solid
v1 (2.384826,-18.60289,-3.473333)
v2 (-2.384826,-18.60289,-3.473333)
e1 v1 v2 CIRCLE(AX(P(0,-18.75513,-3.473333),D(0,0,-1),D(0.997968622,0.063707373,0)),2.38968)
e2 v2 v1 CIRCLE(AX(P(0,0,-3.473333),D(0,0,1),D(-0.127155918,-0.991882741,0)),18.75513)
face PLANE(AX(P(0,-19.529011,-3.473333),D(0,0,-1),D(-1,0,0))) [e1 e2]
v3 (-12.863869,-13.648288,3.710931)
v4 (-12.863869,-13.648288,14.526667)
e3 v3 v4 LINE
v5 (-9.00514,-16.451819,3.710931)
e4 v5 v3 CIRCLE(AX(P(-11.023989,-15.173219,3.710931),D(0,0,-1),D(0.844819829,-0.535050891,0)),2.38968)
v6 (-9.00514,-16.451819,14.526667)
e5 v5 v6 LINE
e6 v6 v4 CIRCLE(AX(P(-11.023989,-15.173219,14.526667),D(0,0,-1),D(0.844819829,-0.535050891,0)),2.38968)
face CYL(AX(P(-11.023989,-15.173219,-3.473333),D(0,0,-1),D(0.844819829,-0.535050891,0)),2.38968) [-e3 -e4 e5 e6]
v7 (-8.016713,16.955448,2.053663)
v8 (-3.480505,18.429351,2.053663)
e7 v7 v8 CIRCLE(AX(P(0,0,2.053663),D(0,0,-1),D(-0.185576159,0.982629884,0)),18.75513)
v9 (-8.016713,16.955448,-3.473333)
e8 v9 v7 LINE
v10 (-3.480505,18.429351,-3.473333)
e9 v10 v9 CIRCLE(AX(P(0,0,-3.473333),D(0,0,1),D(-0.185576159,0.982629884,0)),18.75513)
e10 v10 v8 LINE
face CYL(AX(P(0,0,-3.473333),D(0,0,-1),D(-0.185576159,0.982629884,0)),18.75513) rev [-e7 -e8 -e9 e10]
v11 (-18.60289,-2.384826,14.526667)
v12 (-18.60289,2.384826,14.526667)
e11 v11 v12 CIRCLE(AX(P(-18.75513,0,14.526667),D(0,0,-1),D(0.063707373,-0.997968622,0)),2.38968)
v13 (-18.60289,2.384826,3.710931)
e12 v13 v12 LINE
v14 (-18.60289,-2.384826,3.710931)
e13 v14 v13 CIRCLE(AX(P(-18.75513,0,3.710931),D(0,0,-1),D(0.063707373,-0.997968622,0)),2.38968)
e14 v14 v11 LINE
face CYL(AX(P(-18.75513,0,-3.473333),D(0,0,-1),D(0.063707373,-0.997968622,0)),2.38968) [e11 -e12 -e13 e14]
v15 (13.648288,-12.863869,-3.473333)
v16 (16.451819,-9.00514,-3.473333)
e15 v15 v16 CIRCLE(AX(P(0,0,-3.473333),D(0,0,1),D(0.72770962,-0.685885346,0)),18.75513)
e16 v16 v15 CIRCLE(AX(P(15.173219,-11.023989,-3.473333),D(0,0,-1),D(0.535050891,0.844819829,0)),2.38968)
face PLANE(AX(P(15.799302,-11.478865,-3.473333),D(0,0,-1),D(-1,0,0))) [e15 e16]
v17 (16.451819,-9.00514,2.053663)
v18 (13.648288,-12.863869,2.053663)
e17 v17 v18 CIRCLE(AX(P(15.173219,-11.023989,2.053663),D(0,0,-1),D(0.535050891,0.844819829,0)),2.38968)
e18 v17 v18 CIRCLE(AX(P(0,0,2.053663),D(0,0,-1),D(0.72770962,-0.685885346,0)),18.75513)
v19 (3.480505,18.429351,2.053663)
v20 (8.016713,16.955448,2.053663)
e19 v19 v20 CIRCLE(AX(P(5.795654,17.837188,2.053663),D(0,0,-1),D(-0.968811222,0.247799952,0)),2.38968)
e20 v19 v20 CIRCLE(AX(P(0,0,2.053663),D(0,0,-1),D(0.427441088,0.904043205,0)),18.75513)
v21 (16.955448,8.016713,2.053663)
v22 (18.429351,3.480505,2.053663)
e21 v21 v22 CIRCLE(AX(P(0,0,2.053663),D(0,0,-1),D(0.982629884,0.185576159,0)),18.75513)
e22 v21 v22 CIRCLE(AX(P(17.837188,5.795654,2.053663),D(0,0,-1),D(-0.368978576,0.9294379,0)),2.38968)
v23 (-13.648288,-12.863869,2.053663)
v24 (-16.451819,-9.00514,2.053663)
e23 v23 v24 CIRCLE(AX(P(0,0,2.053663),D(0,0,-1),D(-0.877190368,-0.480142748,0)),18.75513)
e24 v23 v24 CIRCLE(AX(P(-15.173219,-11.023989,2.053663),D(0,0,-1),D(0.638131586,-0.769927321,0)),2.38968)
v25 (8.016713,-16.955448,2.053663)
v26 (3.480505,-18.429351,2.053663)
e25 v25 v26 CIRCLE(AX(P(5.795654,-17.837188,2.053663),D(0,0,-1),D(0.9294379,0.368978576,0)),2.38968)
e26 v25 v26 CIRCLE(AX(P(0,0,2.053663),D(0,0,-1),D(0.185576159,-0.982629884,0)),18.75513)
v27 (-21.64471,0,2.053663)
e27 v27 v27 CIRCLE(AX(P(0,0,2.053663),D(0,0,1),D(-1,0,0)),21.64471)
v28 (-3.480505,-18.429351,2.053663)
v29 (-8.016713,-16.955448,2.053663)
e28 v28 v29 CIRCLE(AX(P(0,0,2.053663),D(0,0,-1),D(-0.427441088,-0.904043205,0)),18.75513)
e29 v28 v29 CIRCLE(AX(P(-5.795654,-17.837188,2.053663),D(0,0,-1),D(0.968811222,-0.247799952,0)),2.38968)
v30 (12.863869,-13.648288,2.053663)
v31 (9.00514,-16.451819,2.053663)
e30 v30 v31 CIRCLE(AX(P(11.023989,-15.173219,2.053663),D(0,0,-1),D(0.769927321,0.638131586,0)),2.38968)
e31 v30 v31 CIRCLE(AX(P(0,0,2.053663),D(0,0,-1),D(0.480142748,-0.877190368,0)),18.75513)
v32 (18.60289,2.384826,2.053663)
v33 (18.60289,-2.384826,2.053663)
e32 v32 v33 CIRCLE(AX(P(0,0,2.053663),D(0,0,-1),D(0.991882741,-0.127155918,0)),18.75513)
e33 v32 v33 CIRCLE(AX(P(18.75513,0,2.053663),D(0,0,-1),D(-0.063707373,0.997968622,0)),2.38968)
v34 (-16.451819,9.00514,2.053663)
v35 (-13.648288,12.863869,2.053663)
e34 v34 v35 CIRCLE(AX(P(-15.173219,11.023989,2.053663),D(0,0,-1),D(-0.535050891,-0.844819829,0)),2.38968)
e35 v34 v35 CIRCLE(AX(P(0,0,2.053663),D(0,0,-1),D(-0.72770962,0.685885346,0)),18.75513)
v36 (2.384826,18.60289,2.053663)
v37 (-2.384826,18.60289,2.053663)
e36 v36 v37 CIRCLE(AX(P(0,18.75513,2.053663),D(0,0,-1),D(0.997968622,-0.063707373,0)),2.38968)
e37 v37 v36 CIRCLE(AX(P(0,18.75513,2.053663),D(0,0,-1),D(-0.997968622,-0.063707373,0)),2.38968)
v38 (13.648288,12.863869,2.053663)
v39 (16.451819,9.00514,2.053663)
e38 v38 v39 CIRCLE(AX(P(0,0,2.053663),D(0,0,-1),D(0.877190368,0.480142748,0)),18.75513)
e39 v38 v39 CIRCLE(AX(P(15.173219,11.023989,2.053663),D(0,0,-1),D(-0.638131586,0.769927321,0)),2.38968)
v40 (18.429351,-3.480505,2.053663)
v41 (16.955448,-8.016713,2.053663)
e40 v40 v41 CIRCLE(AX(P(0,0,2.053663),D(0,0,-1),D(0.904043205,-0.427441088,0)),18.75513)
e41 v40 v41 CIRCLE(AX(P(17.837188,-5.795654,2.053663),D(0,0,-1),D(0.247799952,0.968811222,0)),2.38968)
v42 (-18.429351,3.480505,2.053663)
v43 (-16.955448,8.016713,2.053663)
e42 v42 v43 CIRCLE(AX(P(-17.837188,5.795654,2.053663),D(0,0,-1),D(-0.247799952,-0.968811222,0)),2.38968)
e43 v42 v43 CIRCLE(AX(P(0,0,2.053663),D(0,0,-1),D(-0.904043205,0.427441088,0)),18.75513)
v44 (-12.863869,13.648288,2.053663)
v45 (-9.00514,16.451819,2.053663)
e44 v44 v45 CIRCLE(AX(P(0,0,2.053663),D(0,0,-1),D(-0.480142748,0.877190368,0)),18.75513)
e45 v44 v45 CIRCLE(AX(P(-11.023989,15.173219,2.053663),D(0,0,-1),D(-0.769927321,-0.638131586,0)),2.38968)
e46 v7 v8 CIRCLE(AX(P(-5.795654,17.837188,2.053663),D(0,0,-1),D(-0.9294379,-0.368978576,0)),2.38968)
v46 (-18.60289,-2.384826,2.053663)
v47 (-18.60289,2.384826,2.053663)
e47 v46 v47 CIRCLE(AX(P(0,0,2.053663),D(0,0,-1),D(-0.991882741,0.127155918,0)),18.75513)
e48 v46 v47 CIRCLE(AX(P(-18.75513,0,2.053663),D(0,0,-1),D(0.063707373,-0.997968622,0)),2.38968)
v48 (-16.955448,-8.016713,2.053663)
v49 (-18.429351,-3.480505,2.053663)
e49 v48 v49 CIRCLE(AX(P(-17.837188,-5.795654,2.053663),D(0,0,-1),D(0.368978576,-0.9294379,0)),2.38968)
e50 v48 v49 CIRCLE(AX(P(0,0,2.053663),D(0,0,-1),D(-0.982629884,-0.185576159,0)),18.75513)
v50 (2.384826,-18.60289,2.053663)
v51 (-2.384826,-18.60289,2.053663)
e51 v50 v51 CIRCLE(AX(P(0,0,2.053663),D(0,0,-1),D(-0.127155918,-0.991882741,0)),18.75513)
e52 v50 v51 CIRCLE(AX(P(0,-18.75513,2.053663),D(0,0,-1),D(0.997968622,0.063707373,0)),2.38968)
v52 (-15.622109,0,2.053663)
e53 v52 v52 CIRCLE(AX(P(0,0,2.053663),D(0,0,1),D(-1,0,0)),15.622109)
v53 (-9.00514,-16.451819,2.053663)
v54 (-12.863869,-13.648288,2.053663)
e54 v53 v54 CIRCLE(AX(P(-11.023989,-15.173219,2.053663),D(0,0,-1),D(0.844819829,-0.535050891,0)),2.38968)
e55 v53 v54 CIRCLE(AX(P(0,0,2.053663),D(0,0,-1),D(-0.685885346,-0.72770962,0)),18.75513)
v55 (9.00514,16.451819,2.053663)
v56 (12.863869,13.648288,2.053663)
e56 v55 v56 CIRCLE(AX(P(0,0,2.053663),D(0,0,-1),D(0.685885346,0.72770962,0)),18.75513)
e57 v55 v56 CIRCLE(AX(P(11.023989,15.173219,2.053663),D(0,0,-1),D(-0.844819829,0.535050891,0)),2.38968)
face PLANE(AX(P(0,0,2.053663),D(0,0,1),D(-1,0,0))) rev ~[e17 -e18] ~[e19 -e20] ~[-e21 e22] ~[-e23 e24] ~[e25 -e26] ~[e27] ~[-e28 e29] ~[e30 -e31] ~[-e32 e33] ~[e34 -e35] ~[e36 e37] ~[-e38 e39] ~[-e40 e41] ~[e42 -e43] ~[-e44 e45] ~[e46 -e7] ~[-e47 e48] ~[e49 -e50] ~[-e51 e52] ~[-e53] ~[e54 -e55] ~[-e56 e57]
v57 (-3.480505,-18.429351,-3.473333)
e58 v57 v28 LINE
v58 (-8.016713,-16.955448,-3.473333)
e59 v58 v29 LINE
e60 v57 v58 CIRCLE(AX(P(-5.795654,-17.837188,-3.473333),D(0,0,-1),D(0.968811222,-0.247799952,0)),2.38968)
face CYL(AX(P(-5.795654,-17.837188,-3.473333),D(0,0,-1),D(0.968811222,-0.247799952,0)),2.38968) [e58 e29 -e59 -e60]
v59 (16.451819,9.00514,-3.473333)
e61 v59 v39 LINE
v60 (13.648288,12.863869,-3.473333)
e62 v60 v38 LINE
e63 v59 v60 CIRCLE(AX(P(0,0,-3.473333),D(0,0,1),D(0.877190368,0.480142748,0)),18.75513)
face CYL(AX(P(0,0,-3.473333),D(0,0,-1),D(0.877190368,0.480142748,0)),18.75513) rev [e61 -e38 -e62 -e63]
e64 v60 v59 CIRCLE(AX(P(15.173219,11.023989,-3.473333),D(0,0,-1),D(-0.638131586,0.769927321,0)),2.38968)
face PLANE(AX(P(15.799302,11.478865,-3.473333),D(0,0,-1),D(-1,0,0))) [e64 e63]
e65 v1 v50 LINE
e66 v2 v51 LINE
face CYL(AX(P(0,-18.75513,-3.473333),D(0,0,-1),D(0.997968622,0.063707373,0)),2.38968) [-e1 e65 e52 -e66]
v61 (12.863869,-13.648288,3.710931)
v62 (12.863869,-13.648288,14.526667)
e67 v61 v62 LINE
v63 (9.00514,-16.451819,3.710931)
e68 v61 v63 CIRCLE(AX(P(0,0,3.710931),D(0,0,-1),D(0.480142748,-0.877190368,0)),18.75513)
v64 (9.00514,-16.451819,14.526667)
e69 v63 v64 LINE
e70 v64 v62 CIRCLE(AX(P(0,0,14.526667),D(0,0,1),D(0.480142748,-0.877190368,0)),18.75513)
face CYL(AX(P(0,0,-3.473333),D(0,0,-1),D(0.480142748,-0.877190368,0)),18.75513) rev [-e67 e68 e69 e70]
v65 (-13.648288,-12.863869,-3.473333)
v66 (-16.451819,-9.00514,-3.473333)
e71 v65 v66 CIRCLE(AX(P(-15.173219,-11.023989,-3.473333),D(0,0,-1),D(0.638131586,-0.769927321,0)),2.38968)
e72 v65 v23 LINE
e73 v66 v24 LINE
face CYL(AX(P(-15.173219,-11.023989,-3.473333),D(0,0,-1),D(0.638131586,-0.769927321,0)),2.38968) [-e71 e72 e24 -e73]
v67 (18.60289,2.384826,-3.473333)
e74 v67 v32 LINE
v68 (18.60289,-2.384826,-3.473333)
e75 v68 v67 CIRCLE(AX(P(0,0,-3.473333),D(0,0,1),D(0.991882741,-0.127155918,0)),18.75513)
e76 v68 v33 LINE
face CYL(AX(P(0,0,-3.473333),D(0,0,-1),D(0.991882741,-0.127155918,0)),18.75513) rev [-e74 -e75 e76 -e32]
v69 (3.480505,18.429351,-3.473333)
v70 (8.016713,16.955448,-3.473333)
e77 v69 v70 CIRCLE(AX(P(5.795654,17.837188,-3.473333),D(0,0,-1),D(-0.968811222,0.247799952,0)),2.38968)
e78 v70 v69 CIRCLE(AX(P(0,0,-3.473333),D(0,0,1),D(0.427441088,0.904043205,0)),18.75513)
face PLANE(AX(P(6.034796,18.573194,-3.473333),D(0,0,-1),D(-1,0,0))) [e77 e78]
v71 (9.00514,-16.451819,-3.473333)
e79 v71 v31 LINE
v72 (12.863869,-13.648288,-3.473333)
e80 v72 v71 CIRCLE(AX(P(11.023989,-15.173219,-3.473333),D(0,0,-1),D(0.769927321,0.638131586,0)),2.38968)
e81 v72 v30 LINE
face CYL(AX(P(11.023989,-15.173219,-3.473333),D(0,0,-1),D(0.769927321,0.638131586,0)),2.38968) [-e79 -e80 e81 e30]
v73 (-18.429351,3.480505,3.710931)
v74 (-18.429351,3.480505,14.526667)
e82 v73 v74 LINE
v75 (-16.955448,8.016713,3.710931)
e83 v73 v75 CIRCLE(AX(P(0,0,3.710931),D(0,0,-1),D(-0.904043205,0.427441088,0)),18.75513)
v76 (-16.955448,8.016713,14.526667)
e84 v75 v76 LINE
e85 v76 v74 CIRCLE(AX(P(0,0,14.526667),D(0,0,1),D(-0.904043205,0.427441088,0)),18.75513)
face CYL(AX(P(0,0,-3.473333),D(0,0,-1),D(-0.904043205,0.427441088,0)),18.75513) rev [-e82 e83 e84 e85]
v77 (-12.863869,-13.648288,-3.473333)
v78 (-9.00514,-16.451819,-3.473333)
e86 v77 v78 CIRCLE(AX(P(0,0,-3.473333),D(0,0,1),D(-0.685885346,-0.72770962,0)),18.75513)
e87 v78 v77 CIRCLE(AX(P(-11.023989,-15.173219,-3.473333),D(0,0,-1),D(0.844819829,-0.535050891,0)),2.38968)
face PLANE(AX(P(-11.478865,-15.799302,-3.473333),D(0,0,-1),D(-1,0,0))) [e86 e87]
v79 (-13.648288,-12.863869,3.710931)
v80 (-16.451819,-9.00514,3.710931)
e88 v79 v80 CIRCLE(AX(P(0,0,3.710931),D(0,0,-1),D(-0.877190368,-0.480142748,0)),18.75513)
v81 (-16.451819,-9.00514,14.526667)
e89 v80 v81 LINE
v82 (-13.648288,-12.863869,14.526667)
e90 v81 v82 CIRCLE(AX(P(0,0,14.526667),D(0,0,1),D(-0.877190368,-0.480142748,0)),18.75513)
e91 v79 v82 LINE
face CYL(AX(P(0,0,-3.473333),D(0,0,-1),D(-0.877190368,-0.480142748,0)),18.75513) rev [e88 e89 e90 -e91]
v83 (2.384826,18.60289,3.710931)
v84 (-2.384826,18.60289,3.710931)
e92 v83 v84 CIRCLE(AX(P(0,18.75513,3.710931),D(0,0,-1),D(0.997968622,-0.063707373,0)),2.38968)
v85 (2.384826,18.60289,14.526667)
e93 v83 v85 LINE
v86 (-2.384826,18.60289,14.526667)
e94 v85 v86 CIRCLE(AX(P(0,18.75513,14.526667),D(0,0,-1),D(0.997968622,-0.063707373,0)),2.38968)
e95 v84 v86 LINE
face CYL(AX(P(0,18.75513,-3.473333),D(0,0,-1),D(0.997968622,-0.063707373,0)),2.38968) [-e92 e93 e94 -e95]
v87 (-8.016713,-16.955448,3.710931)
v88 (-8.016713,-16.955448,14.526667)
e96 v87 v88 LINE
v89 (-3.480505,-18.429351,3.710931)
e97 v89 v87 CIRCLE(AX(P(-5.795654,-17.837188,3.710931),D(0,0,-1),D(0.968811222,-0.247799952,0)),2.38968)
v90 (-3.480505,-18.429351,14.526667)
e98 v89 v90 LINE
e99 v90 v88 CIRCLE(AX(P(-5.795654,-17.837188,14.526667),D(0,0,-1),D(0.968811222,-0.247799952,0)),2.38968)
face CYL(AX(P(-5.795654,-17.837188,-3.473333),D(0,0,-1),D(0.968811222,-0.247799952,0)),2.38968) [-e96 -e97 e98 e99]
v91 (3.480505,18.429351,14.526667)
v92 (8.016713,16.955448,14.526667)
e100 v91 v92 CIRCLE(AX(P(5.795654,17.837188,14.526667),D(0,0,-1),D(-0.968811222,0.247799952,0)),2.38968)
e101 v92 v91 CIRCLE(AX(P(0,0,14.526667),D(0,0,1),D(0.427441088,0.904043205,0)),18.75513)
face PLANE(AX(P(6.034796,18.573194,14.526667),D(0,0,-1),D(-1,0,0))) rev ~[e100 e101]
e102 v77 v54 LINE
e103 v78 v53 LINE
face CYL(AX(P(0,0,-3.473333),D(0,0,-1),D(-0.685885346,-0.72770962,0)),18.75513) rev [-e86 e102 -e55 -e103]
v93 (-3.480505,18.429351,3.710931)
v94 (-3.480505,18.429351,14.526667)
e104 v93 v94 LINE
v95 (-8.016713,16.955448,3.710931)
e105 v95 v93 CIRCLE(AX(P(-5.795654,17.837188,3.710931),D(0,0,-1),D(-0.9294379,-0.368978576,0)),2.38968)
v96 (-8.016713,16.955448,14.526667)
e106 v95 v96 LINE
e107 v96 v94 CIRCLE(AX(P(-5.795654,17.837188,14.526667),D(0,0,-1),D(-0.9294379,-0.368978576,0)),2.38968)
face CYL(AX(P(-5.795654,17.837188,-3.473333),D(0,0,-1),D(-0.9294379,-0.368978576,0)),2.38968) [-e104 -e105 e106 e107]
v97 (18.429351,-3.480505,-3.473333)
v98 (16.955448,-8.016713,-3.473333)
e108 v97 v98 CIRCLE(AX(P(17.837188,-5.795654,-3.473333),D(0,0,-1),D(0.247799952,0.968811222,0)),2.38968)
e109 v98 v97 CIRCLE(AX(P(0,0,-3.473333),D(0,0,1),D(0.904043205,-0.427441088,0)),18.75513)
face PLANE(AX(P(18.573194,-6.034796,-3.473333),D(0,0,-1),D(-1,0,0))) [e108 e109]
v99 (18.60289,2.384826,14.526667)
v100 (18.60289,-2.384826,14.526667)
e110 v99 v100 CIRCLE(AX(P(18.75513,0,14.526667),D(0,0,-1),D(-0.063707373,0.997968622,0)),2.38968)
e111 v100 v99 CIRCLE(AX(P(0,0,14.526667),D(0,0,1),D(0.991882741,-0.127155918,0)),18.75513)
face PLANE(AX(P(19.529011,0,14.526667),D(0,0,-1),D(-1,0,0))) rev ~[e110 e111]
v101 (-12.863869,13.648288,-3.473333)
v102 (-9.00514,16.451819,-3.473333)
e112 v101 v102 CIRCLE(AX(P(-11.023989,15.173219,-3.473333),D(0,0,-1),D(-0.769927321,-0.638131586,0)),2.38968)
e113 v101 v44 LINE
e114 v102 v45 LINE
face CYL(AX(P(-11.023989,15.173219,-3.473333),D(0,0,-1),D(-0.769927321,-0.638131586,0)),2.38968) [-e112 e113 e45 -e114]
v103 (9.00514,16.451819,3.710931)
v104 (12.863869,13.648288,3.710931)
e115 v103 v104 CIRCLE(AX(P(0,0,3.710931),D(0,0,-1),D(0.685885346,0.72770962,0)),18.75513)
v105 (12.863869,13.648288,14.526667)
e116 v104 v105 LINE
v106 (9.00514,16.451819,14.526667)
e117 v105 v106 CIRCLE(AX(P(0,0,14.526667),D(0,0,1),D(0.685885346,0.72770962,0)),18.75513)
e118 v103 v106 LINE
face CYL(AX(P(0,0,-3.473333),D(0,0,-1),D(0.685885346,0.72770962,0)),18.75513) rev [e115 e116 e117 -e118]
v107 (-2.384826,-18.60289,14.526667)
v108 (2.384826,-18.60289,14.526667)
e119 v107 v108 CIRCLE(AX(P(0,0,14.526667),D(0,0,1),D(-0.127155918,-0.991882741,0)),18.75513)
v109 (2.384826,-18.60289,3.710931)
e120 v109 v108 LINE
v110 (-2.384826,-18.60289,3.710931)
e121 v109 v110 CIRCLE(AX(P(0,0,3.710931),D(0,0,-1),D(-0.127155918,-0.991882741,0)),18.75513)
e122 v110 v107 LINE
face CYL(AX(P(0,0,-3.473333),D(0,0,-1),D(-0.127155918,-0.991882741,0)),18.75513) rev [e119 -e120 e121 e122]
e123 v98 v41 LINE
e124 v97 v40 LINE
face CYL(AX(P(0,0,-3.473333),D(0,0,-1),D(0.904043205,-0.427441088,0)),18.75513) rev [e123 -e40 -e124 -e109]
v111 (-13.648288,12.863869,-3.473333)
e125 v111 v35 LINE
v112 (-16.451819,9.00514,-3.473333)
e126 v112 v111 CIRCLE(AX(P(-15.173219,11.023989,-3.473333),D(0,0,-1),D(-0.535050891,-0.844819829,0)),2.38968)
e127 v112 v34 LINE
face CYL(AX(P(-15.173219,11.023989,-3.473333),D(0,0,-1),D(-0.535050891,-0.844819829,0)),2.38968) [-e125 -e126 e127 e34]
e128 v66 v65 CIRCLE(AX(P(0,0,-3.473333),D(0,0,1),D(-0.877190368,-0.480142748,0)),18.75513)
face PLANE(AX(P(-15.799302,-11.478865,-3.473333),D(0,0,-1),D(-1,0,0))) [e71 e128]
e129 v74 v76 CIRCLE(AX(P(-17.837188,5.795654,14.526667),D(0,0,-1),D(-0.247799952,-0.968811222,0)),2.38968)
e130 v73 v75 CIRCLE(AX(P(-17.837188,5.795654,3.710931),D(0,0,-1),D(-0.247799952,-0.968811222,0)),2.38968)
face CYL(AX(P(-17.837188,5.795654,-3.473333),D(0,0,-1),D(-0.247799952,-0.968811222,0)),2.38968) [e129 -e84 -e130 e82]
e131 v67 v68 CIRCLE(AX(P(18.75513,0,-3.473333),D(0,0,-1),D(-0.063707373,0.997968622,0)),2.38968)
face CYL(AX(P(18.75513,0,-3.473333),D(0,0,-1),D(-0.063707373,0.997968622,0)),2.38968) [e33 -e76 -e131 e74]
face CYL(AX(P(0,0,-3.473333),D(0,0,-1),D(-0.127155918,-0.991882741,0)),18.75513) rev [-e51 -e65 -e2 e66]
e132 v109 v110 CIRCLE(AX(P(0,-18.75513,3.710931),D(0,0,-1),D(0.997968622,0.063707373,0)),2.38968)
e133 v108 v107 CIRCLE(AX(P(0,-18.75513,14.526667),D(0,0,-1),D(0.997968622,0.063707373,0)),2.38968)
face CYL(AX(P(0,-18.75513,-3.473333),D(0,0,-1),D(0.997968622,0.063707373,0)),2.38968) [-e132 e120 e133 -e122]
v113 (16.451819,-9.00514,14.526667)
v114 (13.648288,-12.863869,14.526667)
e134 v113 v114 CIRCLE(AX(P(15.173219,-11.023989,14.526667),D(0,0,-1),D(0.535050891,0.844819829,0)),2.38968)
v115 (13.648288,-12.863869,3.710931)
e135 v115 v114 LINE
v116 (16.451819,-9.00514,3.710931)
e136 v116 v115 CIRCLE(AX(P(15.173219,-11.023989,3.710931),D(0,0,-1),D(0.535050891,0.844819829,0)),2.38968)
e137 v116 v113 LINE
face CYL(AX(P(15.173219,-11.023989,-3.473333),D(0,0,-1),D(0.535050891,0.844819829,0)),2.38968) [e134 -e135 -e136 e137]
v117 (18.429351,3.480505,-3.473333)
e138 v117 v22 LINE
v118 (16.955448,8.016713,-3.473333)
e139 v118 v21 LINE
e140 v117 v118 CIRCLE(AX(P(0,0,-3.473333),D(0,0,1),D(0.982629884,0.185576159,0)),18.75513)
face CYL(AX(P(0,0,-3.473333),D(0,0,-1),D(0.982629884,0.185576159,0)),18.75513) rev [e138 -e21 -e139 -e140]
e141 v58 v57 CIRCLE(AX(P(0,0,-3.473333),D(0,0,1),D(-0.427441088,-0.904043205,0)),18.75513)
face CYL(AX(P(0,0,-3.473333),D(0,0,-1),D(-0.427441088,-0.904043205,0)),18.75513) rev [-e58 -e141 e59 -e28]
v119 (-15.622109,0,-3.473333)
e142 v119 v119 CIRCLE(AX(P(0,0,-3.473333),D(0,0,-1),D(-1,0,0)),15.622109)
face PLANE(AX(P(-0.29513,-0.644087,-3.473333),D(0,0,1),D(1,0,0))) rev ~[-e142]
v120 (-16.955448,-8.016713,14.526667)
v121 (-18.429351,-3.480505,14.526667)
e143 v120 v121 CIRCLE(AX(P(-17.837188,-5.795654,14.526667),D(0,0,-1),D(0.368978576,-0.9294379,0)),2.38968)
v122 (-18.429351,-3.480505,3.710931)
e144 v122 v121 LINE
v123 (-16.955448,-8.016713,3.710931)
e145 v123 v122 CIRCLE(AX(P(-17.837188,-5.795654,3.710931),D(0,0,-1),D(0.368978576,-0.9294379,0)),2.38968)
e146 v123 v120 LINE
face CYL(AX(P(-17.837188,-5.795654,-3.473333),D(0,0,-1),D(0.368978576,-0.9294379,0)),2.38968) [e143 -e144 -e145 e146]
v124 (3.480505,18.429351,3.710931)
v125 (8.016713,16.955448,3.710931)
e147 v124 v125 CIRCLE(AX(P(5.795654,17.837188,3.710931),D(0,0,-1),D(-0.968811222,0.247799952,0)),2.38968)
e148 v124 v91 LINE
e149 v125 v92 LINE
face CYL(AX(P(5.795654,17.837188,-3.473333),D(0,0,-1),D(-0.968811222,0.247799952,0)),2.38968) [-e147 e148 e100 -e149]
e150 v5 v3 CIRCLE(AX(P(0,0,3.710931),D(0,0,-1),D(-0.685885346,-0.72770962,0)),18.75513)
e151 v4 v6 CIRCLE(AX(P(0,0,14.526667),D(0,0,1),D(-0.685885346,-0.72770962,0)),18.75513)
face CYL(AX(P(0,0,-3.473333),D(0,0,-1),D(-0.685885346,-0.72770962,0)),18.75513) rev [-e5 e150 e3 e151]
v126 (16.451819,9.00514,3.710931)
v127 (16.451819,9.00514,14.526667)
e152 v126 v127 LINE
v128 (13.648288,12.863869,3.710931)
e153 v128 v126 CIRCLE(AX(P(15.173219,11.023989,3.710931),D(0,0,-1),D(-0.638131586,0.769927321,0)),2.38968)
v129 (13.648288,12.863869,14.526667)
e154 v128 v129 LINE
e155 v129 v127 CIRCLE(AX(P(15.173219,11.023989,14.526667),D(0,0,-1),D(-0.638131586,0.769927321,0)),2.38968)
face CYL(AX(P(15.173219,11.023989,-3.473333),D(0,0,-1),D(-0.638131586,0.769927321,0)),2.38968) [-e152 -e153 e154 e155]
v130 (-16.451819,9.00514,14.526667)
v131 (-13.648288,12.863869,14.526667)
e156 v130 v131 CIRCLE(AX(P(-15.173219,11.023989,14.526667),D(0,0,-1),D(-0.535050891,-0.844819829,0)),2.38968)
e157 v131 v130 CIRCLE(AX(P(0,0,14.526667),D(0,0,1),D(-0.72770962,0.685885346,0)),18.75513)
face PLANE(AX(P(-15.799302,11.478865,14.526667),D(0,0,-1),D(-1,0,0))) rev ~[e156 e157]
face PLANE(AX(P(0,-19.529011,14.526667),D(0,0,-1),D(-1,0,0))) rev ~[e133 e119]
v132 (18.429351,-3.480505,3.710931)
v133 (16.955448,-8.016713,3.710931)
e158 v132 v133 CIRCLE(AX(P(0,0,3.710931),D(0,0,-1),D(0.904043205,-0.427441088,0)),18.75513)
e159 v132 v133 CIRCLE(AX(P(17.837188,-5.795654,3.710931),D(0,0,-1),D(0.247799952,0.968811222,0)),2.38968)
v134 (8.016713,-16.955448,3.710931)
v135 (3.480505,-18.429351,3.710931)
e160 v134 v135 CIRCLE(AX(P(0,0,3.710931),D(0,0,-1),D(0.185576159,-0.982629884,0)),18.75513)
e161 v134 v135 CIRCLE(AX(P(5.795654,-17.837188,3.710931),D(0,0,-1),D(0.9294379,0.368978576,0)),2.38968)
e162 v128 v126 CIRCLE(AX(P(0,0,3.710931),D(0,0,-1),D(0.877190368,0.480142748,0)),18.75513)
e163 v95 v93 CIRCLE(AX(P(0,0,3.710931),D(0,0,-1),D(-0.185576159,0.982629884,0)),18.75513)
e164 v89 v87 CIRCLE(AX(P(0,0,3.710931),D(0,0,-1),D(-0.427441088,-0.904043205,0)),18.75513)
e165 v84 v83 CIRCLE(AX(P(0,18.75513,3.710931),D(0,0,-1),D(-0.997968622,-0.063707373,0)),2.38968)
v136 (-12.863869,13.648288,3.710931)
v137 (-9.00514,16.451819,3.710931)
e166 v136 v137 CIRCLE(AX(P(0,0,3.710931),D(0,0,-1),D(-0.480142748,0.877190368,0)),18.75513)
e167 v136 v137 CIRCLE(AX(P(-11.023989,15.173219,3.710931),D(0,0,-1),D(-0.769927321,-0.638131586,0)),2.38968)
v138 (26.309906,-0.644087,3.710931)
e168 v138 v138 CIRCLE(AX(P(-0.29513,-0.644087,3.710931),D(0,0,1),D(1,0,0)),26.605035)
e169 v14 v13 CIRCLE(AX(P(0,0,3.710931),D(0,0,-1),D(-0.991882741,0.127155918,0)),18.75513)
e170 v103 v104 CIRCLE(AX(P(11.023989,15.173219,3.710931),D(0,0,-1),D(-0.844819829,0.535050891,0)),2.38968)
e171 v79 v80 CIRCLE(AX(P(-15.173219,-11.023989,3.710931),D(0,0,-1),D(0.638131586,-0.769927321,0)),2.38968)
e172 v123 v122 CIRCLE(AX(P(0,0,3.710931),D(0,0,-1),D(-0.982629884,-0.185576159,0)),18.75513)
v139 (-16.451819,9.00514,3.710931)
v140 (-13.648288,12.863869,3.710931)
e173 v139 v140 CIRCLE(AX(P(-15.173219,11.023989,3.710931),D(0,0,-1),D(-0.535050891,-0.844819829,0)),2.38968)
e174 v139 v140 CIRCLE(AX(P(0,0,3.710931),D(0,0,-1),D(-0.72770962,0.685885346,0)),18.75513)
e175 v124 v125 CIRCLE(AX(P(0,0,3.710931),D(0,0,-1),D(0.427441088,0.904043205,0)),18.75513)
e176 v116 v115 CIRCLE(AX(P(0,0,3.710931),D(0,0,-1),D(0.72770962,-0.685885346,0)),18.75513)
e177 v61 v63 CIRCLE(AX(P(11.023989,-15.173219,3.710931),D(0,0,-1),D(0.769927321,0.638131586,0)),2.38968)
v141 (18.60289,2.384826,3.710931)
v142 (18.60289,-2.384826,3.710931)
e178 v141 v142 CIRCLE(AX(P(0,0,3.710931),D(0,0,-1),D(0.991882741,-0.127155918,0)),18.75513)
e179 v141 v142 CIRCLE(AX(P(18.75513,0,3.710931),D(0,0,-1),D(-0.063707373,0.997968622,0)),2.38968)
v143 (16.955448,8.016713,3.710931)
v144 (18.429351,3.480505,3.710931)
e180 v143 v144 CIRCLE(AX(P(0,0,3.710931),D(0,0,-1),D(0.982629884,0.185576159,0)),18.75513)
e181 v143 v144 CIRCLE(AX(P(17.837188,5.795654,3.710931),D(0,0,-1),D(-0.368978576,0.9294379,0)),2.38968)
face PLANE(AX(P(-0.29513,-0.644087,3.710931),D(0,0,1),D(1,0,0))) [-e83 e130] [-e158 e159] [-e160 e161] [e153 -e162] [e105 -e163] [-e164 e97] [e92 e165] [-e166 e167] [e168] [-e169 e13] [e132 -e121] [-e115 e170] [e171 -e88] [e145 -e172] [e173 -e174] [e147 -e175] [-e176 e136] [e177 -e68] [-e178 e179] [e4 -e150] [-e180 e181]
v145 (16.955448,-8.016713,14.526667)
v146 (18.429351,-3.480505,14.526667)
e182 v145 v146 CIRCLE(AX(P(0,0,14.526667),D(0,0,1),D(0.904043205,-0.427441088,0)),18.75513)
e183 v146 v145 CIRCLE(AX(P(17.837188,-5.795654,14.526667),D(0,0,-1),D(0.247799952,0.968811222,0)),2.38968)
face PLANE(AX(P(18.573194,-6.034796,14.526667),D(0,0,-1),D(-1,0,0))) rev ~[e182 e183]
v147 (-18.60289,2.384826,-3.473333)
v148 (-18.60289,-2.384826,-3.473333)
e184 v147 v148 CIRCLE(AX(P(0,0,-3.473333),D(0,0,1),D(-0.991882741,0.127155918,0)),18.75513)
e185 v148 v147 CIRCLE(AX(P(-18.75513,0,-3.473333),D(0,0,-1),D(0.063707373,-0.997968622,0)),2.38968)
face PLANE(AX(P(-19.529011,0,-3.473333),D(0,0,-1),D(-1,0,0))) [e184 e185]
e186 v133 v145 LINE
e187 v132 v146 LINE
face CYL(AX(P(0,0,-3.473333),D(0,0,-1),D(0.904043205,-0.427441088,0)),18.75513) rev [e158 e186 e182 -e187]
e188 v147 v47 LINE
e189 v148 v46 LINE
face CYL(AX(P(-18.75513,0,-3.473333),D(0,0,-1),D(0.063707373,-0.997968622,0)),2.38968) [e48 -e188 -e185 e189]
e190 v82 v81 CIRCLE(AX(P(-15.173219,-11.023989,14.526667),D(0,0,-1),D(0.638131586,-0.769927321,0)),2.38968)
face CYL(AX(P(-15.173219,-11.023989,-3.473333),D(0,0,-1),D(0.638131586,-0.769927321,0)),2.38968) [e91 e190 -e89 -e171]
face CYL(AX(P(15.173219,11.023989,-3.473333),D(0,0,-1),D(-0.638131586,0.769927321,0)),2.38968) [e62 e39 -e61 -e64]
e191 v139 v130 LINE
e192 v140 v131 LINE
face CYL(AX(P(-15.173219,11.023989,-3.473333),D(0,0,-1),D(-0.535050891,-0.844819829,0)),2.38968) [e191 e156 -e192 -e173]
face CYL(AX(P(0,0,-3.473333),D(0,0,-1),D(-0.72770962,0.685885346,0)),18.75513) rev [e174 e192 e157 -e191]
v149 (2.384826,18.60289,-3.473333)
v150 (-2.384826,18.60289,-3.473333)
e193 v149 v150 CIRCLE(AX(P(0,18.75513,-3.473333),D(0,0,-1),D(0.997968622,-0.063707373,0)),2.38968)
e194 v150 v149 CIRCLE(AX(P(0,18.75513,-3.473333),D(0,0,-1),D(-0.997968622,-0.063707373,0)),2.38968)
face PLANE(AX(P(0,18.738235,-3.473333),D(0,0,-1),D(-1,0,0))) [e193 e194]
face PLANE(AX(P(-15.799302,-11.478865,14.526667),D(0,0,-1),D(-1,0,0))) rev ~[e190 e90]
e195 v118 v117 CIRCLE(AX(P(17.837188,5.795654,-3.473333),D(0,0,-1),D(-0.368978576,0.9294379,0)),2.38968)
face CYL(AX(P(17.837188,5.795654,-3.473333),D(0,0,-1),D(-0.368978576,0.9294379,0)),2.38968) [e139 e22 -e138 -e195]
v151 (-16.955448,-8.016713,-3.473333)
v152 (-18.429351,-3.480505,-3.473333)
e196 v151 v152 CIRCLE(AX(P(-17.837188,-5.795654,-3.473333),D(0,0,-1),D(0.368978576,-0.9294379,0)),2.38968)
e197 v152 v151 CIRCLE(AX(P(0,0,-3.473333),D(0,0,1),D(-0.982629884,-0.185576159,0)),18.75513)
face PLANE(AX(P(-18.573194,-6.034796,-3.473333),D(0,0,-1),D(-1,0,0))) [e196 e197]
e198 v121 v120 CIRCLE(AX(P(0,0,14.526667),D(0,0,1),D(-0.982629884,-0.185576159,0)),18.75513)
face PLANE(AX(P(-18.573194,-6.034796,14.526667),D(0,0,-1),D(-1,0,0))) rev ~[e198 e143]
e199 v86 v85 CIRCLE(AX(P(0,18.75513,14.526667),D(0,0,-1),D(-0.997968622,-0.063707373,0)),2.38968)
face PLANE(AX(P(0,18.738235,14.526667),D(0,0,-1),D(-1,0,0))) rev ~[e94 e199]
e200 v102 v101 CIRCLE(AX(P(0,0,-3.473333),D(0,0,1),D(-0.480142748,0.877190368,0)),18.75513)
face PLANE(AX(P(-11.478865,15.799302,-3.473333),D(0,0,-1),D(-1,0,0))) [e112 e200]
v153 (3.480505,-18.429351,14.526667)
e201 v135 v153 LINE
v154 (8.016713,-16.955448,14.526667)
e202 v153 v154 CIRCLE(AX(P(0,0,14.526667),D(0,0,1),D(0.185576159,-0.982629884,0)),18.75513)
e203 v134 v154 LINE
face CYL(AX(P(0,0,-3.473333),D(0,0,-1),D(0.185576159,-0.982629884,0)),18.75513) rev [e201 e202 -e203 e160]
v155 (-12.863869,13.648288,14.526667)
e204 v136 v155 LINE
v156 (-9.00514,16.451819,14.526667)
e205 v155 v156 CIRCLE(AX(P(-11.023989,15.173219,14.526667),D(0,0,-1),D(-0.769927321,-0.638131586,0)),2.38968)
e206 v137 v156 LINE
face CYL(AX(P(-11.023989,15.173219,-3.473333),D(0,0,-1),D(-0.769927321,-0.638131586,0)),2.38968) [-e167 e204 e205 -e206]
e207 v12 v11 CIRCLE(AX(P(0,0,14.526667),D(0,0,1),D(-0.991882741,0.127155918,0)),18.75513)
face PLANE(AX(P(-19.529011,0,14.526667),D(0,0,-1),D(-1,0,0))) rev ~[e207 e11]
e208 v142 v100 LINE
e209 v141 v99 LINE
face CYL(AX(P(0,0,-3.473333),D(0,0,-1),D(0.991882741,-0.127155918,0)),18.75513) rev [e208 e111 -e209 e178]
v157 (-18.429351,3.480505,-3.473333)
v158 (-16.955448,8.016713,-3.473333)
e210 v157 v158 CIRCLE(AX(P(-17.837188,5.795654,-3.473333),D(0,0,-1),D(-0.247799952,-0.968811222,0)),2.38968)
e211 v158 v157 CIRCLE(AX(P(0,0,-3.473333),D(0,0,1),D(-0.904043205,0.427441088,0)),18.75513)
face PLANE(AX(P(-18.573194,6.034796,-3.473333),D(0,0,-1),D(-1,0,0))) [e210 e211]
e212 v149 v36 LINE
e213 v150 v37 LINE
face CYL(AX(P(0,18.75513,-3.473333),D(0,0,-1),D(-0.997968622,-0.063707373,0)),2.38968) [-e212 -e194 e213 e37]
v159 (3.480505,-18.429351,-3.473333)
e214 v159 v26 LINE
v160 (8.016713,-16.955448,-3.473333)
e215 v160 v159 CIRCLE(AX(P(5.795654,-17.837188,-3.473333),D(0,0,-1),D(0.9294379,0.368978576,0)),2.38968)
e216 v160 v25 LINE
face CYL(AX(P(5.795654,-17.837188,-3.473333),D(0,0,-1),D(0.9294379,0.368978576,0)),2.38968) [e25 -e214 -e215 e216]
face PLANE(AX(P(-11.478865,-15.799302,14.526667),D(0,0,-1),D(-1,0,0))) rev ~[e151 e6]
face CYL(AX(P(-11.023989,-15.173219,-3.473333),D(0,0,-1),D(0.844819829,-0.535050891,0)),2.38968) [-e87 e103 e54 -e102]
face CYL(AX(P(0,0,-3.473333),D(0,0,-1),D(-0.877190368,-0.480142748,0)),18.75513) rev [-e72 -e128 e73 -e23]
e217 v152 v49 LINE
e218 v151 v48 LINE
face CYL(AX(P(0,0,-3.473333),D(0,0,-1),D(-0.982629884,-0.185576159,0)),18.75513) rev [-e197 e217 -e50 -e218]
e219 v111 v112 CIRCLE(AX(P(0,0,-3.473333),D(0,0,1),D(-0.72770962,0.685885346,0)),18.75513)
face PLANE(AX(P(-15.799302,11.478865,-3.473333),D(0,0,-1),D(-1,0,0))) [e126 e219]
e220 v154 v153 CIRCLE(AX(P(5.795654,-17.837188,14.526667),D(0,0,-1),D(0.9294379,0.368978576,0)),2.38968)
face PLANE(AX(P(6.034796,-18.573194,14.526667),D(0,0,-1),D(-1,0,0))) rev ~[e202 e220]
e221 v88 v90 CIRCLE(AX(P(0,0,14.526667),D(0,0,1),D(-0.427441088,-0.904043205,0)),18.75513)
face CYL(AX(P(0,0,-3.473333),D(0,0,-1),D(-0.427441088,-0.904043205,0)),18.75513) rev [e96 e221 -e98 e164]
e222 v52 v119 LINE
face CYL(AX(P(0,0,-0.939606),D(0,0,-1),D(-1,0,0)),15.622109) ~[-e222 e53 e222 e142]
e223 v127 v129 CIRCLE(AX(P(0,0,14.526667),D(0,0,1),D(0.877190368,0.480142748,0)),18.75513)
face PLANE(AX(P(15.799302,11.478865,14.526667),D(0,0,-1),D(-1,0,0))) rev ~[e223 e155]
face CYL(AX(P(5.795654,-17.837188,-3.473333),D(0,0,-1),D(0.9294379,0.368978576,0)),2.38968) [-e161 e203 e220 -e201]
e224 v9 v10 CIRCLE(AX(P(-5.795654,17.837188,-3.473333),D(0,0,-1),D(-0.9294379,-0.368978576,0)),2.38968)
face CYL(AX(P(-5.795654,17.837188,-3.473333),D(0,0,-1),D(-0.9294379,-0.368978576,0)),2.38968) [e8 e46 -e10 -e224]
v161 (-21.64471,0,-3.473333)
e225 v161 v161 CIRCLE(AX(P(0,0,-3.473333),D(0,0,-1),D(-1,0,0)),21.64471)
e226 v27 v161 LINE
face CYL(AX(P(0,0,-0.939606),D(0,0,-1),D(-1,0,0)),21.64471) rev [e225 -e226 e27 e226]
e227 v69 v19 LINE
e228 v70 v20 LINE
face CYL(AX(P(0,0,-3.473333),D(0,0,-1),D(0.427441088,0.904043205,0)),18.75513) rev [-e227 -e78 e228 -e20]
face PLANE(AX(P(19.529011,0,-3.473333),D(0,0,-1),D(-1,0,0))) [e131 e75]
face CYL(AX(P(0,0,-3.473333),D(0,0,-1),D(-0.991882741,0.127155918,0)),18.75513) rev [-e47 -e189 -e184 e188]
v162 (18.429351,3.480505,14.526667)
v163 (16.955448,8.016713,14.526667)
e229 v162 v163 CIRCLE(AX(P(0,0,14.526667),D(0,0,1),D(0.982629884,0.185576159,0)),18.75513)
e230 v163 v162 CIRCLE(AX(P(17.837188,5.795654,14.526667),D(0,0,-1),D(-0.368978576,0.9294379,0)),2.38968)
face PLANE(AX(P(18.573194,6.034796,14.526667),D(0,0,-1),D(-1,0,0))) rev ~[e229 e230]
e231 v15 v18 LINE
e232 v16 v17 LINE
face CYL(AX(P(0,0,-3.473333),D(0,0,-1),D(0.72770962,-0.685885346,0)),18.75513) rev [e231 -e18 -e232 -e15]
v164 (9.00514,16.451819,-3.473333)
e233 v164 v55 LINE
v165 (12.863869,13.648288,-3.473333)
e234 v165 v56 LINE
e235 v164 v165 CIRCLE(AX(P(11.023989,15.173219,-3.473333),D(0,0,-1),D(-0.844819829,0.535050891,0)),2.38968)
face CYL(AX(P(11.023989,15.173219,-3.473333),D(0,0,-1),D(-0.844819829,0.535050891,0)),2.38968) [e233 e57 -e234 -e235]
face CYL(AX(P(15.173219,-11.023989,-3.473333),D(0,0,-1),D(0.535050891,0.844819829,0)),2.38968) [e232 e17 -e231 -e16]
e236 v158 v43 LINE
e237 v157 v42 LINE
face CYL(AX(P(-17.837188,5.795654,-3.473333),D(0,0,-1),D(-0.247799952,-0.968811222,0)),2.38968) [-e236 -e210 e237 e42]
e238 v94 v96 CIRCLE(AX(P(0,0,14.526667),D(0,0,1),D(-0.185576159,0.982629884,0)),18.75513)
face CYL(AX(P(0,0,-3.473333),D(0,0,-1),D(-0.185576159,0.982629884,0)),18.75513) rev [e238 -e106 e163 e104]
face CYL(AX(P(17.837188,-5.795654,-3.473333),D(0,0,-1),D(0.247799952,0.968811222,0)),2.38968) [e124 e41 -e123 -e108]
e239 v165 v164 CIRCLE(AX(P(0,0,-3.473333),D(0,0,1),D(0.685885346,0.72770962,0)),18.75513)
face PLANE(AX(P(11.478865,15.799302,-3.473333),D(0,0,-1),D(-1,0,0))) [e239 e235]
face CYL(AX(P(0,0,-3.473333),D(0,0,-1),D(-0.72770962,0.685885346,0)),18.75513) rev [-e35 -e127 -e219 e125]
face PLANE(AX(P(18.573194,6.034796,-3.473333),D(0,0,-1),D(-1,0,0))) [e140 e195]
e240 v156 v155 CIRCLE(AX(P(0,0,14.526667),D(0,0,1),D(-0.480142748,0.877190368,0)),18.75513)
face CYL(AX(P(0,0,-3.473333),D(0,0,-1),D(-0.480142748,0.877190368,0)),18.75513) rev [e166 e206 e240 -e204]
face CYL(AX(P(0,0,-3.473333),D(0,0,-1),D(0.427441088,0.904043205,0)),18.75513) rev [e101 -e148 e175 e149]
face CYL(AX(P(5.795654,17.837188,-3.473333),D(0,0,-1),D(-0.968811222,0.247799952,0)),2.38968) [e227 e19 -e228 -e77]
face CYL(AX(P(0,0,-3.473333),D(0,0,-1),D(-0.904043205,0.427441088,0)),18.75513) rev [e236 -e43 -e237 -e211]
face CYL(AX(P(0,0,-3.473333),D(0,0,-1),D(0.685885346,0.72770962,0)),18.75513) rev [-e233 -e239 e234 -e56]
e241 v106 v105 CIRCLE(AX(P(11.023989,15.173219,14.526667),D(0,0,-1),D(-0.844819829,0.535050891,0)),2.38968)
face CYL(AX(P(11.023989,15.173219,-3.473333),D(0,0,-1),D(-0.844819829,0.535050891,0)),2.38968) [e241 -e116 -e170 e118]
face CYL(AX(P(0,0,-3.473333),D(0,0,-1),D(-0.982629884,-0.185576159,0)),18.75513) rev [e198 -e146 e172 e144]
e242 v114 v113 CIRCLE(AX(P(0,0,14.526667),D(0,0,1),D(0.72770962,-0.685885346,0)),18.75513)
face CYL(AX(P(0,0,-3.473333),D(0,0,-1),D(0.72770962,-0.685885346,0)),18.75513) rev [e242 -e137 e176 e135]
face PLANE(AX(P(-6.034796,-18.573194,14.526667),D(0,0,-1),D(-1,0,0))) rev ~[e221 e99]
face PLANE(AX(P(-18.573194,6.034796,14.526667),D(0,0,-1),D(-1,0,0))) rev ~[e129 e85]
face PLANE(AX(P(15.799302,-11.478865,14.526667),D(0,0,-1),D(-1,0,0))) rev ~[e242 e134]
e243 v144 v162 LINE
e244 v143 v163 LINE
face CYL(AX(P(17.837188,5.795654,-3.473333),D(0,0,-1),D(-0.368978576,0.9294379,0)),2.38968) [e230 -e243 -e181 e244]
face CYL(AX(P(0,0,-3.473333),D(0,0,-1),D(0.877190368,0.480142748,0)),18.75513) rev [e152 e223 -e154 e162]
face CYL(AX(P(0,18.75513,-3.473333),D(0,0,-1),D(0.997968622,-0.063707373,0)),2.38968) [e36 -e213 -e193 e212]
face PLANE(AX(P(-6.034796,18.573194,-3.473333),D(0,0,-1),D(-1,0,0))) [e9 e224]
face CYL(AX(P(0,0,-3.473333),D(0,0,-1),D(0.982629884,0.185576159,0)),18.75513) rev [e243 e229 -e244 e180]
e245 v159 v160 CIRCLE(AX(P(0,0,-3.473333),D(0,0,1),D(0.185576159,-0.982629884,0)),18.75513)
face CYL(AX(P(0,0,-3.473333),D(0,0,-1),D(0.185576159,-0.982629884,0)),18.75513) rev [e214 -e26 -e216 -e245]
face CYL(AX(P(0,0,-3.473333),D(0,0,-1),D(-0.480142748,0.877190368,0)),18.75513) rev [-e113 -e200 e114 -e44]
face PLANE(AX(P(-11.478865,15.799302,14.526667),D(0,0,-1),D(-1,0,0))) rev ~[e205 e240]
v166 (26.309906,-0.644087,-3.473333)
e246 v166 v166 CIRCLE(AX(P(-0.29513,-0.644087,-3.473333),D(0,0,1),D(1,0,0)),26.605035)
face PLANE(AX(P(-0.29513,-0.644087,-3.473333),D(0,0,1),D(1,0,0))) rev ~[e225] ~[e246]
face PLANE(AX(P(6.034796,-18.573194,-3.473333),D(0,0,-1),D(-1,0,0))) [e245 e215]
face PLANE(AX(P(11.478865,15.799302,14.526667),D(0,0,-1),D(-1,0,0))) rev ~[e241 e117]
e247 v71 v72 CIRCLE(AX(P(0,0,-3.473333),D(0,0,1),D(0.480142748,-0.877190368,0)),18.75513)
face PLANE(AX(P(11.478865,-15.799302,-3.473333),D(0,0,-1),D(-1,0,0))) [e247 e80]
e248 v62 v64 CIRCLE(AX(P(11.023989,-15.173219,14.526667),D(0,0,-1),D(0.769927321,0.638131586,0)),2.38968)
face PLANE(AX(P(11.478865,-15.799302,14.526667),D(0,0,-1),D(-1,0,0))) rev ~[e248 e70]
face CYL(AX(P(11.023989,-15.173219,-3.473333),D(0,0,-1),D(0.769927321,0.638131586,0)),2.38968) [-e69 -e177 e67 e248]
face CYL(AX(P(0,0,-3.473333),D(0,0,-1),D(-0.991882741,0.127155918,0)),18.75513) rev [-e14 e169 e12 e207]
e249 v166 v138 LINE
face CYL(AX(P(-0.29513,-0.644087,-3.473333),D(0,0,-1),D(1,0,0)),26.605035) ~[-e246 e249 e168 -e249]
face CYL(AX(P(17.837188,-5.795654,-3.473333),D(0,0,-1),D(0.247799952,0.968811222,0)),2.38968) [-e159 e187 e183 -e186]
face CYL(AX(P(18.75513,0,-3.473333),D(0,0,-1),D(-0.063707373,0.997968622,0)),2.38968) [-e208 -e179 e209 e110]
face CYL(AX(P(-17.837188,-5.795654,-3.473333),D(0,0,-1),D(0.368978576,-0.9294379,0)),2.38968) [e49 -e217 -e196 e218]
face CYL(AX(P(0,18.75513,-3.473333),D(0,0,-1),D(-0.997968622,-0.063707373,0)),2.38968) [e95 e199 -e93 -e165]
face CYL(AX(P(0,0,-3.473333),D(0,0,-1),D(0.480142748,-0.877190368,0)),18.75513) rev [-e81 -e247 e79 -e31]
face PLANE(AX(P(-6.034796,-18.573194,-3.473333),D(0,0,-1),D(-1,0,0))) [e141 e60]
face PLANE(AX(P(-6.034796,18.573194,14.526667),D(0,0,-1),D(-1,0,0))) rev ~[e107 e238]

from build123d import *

# Parameters (mm, degrees)
EXTRUDE_1_DEPTH      = 3.710930537
EXTRUDE_1_DEPTH_BACK = 3.473333137
SKETCH_1_R           = 26.605035468
SKETCH_4_W           = 6.02260113
SKETCH_4_H           = 5.98653765
EXTRUDE_2_DEPTH      = 18


with BuildPart() as part:
    # 草图1 → 凸台-拉伸1 (new, two sides: drawn at the far end of the back side and taken through both)
    with BuildSketch(Plane(origin=(4.976775399, -23.162053726, 0), x_dir=(1, 0, 0), z_dir=(0, 0, 1)).offset(-EXTRUDE_1_DEPTH_BACK)):
        with Locations((-5.271905078, 22.51796653)):
            Circle(SKETCH_1_R)
    extrude(amount=EXTRUDE_1_DEPTH + EXTRUDE_1_DEPTH_BACK)

    # 草图4 → 切除-旋转1 (revolve, cut)
    with BuildSketch(Plane(origin=(0, 0, -0.114580032), x_dir=(1, 0, 0), z_dir=(0, 1, 0))):
        with Locations((-18.633409167, 0.825025845)):
            Rectangle(SKETCH_4_W, SKETCH_4_H)
    revolve(axis=Axis((0, 0, -21.724133591), (0, 0, 1)), mode=Mode.SUBTRACT)

    # 草图6 → 凸台-拉伸2 (add)
    with BuildSketch(Plane(origin=(0, 0, -3.473333137), x_dir=(-1, 0, 0), z_dir=(0, 0, -1))):
        with BuildLine():
            ThreePointArc((2.38482577, 18.602889633), (0, 21.144809988), (-2.38482577, 18.602889633))
            ThreePointArc((-2.38482577, 18.602889633), (0, 16.365449762), (2.38482577, 18.602889633))
        make_face()
        with BuildLine():
            ThreePointArc((-8.016713129, 16.955447716), (-5.795653863, 17.837188482), (-3.480504953, 18.429351099))
            ThreePointArc((-3.480504953, 18.429351099), (-6.534105629, 20.109909325), (-8.016713129, 16.955447716))
        make_face()
        with BuildLine():
            ThreePointArc((8.016713129, 16.955447716), (6.534105629, 20.109909325), (3.480504953, 18.429351099))
            ThreePointArc((3.480504953, 18.429351099), (5.795653863, 17.837188482), (8.016713129, 16.955447716))
        make_face()
        with BuildLine():
            ThreePointArc((-12.863868752, 13.648288441), (-11.023988745, 15.173218801), (-9.0051396, 16.451819274))
            ThreePointArc((-9.0051396, 16.451819274), (-12.428607474, 17.106510623), (-12.863868752, 13.648288441))
        make_face()
        with BuildLine():
            ThreePointArc((12.863868752, 13.648288441), (12.428607474, 17.106510623), (9.0051396, 16.451819274))
            ThreePointArc((9.0051396, 16.451819274), (11.023988745, 15.173218801), (12.863868752, 13.648288441))
        make_face()
        with BuildLine():
            ThreePointArc((-16.451819274, 9.0051396), (-15.173218801, 11.023988745), (-13.648288441, 12.863868752))
            ThreePointArc((-13.648288441, 12.863868752), (-17.106510623, 12.428607474), (-16.451819274, 9.0051396))
        make_face()
        with BuildLine():
            ThreePointArc((16.451819274, 9.0051396), (17.106510623, 12.428607474), (13.648288441, 12.863868752))
            ThreePointArc((13.648288441, 12.863868752), (15.173218801, 11.023988745), (16.451819274, 9.0051396))
        make_face()
        with BuildLine():
            ThreePointArc((-18.429351099, 3.480504953), (-17.837188482, 5.795653863), (-16.955447716, 8.016713129))
            ThreePointArc((-16.955447716, 8.016713129), (-20.109909325, 6.534105629), (-18.429351099, 3.480504953))
        make_face()
        with BuildLine():
            ThreePointArc((18.429351099, 3.480504953), (20.109909325, 6.534105629), (16.955447716, 8.016713129))
            ThreePointArc((16.955447716, 8.016713129), (17.837188482, 5.795653863), (18.429351099, 3.480504953))
        make_face()
        with BuildLine():
            ThreePointArc((-18.602889633, -2.38482577), (-18.755129875, 0), (-18.602889633, 2.38482577))
            ThreePointArc((-18.602889633, 2.38482577), (-21.144809988, 0), (-18.602889633, -2.38482577))
        make_face()
        with BuildLine():
            ThreePointArc((18.602889633, -2.38482577), (21.144809988, 0), (18.602889633, 2.38482577))
            ThreePointArc((18.602889633, 2.38482577), (18.755129875, 0), (18.602889633, -2.38482577))
        make_face()
        with BuildLine():
            ThreePointArc((-16.955447716, -8.016713129), (-17.837188482, -5.795653863), (-18.429351099, -3.480504953))
            ThreePointArc((-18.429351099, -3.480504953), (-20.109909325, -6.534105629), (-16.955447716, -8.016713129))
        make_face()
        with BuildLine():
            ThreePointArc((16.955447716, -8.016713129), (20.109909325, -6.534105629), (18.429351099, -3.480504953))
            ThreePointArc((18.429351099, -3.480504953), (17.837188482, -5.795653863), (16.955447716, -8.016713129))
        make_face()
        with BuildLine():
            ThreePointArc((-13.648288441, -12.863868752), (-15.173218801, -11.023988745), (-16.451819274, -9.0051396))
            ThreePointArc((-16.451819274, -9.0051396), (-17.106510623, -12.428607474), (-13.648288441, -12.863868752))
        make_face()
        with BuildLine():
            ThreePointArc((13.648288441, -12.863868752), (17.106510623, -12.428607474), (16.451819274, -9.0051396))
            ThreePointArc((16.451819274, -9.0051396), (15.173218801, -11.023988745), (13.648288441, -12.863868752))
        make_face()
        with BuildLine():
            ThreePointArc((-9.0051396, -16.451819274), (-11.023988745, -15.173218801), (-12.863868752, -13.648288441))
            ThreePointArc((-12.863868752, -13.648288441), (-12.428607474, -17.106510623), (-9.0051396, -16.451819274))
        make_face()
        with BuildLine():
            ThreePointArc((9.0051396, -16.451819274), (12.428607474, -17.106510623), (12.863868752, -13.648288441))
            ThreePointArc((12.863868752, -13.648288441), (11.023988745, -15.173218801), (9.0051396, -16.451819274))
        make_face()
        with BuildLine():
            ThreePointArc((-3.480504953, -18.429351099), (-5.795653863, -17.837188482), (-8.016713129, -16.955447716))
            ThreePointArc((-8.016713129, -16.955447716), (-6.534105629, -20.109909325), (-3.480504953, -18.429351099))
        make_face()
        with BuildLine():
            ThreePointArc((3.480504953, -18.429351099), (6.534105629, -20.109909325), (8.016713129, -16.955447716))
            ThreePointArc((8.016713129, -16.955447716), (5.795653863, -17.837188482), (3.480504953, -18.429351099))
        make_face()
        with BuildLine():
            ThreePointArc((2.38482577, -18.602889633), (0, -18.755129875), (-2.38482577, -18.602889633))
            ThreePointArc((-2.38482577, -18.602889633), (0, -21.144809988), (2.38482577, -18.602889633))
        make_face()
    extrude(amount=-EXTRUDE_2_DEPTH)


solid = part.part
